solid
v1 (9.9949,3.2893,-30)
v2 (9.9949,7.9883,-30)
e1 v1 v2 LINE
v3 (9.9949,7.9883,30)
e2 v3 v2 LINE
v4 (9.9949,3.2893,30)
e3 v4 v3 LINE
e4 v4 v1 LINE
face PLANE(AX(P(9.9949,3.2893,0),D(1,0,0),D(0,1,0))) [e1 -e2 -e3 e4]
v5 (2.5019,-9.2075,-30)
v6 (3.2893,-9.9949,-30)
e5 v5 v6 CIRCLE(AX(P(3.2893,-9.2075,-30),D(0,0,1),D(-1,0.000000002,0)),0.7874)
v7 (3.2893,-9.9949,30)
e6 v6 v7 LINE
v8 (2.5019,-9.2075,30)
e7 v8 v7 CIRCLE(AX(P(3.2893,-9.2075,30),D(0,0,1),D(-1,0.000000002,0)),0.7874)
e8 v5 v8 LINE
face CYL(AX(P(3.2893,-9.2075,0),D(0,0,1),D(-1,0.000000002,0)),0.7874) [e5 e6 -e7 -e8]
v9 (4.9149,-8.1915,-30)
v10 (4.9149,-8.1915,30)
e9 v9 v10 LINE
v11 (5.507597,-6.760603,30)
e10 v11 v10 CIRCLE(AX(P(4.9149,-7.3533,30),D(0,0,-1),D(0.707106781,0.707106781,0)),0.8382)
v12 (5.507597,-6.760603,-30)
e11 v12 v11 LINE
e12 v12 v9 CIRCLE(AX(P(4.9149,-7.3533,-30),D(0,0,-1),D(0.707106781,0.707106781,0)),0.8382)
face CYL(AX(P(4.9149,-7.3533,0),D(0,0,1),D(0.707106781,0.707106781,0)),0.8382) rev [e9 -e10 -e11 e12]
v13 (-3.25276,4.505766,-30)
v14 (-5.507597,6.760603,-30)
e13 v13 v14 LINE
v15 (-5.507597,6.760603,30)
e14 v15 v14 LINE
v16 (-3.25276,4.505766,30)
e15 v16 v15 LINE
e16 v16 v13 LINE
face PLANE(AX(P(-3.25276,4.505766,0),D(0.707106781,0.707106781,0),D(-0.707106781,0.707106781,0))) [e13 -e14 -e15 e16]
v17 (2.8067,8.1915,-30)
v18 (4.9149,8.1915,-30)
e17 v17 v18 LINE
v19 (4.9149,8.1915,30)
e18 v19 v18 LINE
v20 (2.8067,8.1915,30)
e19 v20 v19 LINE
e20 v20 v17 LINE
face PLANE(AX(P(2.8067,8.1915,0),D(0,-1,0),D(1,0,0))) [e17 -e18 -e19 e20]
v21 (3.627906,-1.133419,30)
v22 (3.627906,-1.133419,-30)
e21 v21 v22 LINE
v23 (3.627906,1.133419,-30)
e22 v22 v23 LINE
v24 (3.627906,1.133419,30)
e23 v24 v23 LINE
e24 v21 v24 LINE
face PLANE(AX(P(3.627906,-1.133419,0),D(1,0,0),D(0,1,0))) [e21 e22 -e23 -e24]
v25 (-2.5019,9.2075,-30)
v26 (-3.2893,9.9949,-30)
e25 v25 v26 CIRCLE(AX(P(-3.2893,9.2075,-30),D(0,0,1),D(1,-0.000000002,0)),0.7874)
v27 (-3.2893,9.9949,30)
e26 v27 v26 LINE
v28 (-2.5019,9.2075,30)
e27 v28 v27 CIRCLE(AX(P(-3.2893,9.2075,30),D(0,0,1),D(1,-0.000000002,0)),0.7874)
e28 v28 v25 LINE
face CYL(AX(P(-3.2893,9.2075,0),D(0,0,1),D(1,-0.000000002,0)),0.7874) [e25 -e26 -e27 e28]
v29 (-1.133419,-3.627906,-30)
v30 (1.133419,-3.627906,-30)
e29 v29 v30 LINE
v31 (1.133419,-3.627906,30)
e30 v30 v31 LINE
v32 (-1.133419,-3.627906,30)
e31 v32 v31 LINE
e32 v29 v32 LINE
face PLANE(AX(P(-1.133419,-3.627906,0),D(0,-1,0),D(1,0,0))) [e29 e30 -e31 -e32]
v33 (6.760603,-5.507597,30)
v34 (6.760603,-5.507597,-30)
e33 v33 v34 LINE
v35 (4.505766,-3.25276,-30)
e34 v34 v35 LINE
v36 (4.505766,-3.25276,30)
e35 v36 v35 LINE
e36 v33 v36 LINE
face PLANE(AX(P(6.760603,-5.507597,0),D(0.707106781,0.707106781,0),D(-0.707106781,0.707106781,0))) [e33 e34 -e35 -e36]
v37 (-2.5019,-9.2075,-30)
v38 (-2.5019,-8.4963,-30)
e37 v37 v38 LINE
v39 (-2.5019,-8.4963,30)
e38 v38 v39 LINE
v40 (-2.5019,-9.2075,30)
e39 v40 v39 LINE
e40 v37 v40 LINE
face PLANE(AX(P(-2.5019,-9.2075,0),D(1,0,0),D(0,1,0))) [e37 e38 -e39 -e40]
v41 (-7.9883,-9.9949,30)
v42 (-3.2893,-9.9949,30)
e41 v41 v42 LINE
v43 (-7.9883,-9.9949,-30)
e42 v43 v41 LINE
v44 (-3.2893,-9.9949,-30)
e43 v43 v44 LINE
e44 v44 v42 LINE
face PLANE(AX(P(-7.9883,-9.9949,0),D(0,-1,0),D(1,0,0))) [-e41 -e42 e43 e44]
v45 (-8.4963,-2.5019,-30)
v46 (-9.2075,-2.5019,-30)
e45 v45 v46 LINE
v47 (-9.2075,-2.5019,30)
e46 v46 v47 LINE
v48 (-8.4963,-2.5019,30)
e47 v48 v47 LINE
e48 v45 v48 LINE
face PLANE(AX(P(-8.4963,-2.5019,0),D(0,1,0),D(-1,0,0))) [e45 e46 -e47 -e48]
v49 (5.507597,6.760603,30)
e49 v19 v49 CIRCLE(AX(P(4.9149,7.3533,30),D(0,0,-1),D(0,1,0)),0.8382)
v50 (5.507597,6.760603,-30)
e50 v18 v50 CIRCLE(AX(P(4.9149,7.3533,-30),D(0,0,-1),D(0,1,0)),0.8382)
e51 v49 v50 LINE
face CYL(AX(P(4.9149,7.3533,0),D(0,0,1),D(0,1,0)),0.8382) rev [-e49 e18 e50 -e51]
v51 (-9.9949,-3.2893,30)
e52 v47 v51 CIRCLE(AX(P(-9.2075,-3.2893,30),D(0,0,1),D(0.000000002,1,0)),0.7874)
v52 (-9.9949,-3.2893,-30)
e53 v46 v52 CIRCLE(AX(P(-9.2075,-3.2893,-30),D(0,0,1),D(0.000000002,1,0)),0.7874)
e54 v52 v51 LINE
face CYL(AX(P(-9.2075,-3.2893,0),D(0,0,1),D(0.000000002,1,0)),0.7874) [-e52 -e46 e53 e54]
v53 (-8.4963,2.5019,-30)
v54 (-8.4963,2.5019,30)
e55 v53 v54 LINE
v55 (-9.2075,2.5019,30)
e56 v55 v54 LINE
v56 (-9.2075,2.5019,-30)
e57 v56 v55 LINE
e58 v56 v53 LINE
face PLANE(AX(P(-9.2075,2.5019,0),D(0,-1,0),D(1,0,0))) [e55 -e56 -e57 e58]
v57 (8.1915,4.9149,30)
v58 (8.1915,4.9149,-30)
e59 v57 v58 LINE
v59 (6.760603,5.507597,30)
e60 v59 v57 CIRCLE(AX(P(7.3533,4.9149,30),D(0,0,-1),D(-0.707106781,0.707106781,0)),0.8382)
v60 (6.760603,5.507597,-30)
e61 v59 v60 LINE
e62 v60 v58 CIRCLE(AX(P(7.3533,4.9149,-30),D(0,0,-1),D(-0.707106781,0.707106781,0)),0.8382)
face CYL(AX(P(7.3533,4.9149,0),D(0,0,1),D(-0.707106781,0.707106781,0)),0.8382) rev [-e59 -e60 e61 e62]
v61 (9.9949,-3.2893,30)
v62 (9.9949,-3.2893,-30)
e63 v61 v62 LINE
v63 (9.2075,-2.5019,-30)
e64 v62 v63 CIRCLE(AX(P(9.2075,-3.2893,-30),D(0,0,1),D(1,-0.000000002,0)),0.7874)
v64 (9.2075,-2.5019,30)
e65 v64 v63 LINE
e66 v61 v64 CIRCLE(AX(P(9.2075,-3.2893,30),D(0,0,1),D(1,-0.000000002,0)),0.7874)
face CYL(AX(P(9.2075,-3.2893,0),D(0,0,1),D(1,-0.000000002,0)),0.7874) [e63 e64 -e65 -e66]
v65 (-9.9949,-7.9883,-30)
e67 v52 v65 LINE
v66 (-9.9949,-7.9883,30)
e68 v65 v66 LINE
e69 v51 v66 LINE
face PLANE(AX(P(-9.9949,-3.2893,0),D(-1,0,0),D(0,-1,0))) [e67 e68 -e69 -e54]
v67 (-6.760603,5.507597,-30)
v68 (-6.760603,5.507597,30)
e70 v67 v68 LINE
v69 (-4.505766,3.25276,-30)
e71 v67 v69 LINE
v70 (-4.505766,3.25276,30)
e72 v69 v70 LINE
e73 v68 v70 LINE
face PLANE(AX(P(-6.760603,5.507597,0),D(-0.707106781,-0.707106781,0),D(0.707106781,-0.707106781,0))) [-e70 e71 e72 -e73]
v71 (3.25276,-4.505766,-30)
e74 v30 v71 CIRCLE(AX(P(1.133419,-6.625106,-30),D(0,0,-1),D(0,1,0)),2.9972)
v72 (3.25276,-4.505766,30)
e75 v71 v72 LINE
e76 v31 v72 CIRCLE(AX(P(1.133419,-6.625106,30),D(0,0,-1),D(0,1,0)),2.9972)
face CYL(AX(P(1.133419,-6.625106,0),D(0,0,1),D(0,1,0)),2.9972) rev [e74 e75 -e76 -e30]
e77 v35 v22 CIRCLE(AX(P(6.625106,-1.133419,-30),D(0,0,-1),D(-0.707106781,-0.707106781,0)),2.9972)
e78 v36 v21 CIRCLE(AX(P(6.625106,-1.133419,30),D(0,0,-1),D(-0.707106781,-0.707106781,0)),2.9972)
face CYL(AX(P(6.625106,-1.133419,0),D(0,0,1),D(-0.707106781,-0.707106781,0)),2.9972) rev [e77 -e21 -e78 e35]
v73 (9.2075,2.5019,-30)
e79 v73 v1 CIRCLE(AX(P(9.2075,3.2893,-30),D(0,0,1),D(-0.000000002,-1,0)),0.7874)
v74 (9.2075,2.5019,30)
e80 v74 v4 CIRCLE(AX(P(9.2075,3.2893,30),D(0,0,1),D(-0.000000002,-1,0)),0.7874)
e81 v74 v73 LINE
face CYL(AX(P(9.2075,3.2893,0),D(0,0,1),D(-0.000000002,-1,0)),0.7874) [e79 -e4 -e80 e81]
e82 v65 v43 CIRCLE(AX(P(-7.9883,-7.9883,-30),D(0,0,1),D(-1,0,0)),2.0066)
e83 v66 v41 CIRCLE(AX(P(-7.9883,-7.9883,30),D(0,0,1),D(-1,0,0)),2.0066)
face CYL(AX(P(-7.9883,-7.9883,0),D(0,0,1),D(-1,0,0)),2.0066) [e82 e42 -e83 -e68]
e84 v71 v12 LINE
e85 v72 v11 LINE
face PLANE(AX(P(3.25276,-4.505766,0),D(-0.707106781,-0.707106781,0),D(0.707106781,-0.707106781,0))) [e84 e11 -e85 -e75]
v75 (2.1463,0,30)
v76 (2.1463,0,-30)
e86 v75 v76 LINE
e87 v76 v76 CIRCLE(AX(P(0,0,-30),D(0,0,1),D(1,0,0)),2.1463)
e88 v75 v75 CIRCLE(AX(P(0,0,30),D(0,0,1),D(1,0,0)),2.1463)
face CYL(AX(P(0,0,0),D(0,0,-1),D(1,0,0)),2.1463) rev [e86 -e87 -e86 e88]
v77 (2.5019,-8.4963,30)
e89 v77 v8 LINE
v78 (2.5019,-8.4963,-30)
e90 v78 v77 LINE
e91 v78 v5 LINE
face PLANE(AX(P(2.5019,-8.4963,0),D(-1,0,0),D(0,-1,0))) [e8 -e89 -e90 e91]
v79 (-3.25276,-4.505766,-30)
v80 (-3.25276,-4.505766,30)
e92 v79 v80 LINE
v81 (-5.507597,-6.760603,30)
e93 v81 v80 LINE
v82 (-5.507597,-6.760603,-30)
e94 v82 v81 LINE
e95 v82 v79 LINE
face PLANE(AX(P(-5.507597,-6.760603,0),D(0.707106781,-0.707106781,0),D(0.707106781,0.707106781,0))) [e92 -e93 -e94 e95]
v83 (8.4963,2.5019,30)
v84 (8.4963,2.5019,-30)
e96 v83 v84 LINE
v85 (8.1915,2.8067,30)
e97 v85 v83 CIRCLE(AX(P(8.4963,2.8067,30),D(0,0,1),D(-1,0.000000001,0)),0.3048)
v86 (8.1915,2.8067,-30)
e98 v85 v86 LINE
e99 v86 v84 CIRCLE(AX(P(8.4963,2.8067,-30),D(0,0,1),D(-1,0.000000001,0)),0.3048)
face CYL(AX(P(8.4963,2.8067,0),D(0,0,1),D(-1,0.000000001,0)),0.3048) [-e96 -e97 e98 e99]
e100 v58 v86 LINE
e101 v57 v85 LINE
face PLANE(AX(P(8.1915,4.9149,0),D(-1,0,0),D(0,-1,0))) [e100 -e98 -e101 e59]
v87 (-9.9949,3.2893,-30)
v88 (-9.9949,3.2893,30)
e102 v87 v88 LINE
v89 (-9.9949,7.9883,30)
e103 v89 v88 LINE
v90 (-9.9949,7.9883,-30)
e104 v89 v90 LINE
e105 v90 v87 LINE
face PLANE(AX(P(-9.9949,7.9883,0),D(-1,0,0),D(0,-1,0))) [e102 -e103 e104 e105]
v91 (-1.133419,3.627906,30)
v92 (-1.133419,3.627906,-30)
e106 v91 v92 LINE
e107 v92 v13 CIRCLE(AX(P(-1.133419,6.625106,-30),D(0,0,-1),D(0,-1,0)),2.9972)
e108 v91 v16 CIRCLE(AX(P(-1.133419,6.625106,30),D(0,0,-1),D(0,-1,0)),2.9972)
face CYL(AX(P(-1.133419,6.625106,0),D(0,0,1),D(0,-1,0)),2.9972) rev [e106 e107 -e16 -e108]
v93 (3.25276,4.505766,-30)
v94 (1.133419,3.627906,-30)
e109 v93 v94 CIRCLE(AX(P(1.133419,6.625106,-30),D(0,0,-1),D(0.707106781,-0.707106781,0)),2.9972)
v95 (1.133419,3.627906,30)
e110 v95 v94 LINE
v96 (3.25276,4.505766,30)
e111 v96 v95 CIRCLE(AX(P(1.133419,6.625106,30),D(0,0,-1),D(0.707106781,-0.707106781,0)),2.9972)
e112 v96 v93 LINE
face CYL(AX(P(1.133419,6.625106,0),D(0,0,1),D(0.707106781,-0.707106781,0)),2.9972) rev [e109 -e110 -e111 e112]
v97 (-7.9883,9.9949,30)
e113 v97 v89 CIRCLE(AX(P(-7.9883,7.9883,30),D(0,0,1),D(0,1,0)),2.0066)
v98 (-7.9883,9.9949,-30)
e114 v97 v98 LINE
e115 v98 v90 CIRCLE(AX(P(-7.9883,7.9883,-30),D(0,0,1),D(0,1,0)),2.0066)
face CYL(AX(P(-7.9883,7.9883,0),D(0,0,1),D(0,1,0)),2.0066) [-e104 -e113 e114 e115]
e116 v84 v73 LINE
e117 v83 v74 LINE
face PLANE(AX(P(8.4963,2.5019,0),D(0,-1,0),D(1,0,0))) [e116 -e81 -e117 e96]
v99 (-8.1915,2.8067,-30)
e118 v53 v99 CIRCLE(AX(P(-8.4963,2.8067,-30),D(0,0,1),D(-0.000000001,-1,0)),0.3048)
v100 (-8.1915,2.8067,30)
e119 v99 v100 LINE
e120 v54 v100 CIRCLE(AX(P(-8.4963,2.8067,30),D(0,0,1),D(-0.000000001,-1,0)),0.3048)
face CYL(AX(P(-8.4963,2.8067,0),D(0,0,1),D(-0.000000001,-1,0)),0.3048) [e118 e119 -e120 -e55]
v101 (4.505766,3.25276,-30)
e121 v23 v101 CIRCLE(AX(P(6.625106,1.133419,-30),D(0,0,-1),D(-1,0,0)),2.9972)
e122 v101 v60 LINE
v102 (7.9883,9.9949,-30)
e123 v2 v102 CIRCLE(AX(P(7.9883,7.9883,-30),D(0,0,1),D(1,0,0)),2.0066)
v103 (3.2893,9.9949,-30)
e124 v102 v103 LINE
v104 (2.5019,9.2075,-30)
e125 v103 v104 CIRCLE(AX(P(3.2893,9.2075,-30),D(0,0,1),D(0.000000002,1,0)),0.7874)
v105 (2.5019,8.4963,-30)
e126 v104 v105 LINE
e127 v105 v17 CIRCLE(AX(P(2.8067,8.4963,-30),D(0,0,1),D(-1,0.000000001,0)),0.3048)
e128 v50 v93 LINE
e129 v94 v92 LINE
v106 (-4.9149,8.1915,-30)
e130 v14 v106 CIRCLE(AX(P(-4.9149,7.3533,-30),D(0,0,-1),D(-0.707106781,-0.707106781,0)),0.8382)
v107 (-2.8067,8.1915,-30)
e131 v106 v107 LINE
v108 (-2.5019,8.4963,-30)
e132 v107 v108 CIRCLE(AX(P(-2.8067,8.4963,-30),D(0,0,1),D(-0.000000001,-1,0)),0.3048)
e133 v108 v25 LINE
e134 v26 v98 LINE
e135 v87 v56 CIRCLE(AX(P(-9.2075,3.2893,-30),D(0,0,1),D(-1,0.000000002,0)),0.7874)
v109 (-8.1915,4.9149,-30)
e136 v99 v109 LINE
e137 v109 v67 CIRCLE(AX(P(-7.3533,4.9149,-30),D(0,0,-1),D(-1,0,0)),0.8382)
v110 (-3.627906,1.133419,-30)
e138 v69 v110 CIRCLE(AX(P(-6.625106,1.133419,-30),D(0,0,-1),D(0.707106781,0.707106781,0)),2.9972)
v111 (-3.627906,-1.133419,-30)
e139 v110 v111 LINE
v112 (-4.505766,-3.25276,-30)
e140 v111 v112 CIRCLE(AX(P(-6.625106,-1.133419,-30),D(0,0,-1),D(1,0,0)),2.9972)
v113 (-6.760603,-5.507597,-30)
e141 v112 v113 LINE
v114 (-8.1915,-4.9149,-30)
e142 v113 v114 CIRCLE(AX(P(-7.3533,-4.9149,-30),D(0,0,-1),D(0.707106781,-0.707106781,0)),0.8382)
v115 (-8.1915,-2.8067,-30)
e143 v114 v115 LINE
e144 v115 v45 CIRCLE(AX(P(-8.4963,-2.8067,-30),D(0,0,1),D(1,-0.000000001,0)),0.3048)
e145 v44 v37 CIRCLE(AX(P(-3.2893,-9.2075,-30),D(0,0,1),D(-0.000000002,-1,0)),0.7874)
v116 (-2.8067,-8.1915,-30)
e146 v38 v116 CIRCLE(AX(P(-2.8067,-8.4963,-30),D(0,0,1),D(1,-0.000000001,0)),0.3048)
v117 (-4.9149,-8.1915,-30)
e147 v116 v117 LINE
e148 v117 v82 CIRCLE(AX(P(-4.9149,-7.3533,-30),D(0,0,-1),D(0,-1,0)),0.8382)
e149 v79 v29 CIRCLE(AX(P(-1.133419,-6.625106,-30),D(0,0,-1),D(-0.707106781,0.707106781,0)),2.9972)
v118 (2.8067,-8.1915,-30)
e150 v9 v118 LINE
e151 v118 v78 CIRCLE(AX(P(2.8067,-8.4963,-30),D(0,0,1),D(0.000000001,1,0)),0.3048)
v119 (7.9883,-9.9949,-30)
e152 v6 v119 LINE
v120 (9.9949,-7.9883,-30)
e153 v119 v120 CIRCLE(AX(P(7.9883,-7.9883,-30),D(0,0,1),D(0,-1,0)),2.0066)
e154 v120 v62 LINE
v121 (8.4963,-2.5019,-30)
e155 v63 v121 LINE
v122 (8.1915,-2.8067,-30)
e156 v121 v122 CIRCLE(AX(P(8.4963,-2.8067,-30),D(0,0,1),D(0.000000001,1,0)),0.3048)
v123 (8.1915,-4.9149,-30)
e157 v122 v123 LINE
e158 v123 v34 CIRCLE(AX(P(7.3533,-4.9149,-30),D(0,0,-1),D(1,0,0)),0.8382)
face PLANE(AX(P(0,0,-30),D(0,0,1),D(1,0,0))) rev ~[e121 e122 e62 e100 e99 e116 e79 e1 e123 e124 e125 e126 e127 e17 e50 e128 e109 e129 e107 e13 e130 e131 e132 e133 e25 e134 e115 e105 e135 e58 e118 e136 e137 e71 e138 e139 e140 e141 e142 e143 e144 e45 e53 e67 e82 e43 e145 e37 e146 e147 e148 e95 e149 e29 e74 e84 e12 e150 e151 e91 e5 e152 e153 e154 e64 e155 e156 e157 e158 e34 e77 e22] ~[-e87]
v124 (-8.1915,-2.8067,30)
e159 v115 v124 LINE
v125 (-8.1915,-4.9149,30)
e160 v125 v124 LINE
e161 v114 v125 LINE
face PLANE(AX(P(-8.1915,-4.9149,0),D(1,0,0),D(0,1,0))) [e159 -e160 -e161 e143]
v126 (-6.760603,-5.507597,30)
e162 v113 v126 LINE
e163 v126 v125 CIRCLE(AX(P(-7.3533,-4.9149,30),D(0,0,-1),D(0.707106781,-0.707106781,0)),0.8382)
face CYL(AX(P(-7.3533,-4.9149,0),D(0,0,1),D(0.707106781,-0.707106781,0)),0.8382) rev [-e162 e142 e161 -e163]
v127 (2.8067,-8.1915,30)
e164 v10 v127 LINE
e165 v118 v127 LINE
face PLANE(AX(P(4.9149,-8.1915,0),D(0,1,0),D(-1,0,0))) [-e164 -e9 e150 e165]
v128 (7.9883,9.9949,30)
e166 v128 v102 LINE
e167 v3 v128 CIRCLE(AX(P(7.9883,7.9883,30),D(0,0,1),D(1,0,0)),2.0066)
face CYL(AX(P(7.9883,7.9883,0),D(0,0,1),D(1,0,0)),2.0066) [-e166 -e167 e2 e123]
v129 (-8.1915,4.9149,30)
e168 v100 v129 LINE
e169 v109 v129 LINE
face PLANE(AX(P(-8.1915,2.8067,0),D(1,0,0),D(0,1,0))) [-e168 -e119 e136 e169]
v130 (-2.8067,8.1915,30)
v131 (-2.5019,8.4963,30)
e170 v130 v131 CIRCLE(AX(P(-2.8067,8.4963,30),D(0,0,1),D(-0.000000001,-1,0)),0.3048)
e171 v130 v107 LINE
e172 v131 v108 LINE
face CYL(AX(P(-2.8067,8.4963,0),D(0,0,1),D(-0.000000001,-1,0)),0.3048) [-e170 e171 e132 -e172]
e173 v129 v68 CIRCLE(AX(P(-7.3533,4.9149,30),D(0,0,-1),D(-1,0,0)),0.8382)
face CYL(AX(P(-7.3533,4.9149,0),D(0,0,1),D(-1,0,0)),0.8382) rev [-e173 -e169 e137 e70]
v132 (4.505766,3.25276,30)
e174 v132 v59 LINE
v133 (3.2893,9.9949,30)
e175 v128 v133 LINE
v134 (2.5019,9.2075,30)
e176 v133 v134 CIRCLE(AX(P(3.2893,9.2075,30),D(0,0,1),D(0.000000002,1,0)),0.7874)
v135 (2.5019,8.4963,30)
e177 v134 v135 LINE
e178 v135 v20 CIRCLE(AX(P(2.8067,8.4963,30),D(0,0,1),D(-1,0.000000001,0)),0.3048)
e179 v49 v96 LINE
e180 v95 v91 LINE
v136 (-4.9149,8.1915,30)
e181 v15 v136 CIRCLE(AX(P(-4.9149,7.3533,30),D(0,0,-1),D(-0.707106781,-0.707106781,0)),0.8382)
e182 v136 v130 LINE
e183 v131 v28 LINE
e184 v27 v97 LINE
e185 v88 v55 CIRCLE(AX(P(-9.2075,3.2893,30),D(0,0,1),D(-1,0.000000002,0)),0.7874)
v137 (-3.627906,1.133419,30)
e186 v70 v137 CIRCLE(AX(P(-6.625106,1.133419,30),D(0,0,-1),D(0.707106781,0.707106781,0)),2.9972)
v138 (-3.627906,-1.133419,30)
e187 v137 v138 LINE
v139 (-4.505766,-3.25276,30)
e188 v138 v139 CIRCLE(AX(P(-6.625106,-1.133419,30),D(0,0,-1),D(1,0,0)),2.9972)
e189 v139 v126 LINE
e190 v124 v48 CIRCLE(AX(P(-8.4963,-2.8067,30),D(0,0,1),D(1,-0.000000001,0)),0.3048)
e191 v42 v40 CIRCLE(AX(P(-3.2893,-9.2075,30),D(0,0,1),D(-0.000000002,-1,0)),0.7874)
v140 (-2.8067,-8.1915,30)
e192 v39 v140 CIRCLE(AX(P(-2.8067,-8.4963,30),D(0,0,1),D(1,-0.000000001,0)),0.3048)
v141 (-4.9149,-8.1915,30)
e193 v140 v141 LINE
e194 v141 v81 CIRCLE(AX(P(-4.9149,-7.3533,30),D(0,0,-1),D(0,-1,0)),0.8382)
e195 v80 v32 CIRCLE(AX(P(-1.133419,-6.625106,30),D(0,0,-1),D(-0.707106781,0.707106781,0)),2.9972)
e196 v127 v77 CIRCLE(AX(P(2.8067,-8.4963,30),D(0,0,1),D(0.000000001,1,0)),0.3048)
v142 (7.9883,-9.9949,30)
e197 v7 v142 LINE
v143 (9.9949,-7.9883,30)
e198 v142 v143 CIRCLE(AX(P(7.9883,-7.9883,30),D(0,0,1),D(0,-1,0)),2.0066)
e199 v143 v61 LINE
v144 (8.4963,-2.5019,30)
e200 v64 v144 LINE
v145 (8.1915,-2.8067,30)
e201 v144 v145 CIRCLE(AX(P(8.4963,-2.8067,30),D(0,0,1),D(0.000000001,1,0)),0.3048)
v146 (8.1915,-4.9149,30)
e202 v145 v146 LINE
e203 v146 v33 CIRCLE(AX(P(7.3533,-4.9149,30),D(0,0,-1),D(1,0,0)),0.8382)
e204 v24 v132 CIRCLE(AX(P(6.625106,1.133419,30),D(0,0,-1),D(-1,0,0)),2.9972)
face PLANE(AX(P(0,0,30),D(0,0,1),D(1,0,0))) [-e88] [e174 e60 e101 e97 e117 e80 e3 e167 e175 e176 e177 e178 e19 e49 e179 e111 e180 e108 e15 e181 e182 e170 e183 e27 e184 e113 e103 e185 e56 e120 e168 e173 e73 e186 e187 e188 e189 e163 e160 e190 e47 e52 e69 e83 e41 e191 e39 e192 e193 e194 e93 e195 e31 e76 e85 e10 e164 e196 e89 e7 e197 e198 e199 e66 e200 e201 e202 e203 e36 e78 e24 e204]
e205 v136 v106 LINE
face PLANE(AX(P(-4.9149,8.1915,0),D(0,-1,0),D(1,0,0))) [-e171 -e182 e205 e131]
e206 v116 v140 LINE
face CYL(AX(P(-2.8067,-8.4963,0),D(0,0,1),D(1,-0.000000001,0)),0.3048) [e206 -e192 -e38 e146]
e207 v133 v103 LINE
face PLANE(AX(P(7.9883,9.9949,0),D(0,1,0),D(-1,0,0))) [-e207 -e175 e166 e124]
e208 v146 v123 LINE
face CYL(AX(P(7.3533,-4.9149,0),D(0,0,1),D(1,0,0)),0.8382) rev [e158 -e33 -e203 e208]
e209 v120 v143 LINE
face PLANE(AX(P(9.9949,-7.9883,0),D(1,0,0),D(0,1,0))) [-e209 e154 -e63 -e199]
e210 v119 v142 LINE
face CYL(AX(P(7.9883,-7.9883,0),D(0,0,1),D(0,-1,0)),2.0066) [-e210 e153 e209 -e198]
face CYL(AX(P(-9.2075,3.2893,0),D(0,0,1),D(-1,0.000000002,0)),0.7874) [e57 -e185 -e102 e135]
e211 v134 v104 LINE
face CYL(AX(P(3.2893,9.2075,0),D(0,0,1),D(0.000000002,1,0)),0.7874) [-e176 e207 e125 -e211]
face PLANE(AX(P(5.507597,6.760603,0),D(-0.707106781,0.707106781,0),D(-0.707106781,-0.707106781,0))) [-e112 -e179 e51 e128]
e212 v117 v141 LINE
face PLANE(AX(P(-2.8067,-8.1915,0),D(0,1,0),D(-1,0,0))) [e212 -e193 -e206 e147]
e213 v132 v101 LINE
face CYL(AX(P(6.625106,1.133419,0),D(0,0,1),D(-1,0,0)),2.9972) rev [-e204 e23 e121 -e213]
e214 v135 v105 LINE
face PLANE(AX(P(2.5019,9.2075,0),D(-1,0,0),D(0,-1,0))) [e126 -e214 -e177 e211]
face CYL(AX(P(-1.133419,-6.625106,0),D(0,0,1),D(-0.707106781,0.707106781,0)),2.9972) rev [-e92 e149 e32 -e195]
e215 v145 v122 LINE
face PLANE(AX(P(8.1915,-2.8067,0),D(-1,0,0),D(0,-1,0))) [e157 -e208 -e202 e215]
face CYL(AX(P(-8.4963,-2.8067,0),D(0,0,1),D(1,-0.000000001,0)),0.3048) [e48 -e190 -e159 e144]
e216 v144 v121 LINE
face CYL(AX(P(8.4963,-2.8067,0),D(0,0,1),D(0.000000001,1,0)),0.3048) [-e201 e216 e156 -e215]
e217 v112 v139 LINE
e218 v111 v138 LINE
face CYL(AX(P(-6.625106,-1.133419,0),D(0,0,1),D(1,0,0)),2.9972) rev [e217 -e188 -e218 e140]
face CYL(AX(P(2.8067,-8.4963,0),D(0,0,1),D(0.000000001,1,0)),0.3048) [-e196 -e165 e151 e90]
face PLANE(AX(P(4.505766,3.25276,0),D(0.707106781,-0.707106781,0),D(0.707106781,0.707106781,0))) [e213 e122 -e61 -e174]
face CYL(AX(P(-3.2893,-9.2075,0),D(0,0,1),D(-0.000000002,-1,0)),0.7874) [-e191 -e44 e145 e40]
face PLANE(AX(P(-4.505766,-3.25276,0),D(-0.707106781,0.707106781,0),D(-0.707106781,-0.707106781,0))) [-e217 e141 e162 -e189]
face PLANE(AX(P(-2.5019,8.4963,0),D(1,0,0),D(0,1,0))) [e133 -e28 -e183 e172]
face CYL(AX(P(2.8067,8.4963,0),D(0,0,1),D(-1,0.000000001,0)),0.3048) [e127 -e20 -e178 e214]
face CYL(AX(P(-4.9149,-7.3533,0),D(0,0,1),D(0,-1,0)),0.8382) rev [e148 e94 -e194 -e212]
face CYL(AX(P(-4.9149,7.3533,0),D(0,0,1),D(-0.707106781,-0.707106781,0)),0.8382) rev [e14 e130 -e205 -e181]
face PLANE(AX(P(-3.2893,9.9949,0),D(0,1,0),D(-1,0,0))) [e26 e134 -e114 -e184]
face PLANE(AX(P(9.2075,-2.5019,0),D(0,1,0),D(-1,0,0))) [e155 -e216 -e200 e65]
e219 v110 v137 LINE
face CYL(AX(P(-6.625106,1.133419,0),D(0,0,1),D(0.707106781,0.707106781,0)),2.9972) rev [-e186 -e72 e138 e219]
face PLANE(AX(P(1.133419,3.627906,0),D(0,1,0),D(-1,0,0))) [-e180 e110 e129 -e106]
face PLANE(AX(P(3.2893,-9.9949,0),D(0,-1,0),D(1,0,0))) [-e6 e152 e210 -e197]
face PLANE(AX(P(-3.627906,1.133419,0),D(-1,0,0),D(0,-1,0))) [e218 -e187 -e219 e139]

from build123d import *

# Parameters (mm, degrees)
SKETCH1_R           = 2.1463
BOSS_EXTRUDE1_DEPTH = 30


with BuildPart() as part:
    # Sketch1 → Boss-Extrude1 (new body, symmetric)
    with BuildSketch(Plane.XY):
        with BuildLine():
            Line((-9.9949, 7.9883), (-9.9949, 3.2893))
            ThreePointArc((-9.9949, 3.2893), (-9.76427588, 2.73252412), (-9.2075, 2.5019))
            Line((-9.2075, 2.5019), (-8.4963, 2.5019))
            ThreePointArc((-8.4963, 2.5019), (-8.280773853, 2.591173853), (-8.1915, 2.8067))
            Line((-8.1915, 2.8067), (-8.1915, 4.9149))
            ThreePointArc((-8.1915, 4.9149), (-7.674065253, 5.689295824), (-6.760603096, 5.507596904))
            Line((-6.760603096, 5.507596904), (-4.505765747, 3.252759555))
            ThreePointArc((-4.505765747, 3.252759555), (-3.856054457, 2.280397894), (-3.627906192, 1.133419111))
            Line((-3.627906192, 1.133419111), (-3.627906192, -1.133419111))
            ThreePointArc((-3.627906192, -1.133419111), (-3.856054457, -2.280397894), (-4.505765747, -3.252759555))
            Line((-4.505765747, -3.252759555), (-6.760603096, -5.507596904))
            ThreePointArc((-6.760603096, -5.507596904), (-7.674065253, -5.689295824), (-8.1915, -4.9149))
            Line((-8.1915, -4.9149), (-8.1915, -2.8067))
            ThreePointArc((-8.1915, -2.8067), (-8.280773853, -2.591173853), (-8.4963, -2.5019))
            Line((-8.4963, -2.5019), (-9.2075, -2.5019))
            ThreePointArc((-9.2075, -2.5019), (-9.76427588, -2.73252412), (-9.9949, -3.2893))
            Line((-9.9949, -3.2893), (-9.9949, -7.9883))
            ThreePointArc((-9.9949, -7.9883), (-9.407180467, -9.407180467), (-7.9883, -9.9949))
            Line((-7.9883, -9.9949), (-3.2893, -9.9949))
            ThreePointArc((-3.2893, -9.9949), (-2.73252412, -9.76427588), (-2.5019, -9.2075))
            Line((-2.5019, -9.2075), (-2.5019, -8.4963))
            ThreePointArc((-2.5019, -8.4963), (-2.591173853, -8.280773853), (-2.8067, -8.1915))
            Line((-2.8067, -8.1915), (-4.9149, -8.1915))
            ThreePointArc((-4.9149, -8.1915), (-5.689295824, -7.674065253), (-5.507596904, -6.760603096))
            Line((-5.507596904, -6.760603096), (-3.252759555, -4.505765747))
            ThreePointArc((-3.252759555, -4.505765747), (-2.280397894, -3.856054457), (-1.133419111, -3.627906192))
            Line((-1.133419111, -3.627906192), (1.133419111, -3.627906192))
            ThreePointArc((1.133419111, -3.627906192), (2.280397894, -3.856054457), (3.252759555, -4.505765747))
            Line((3.252759555, -4.505765747), (5.507596904, -6.760603096))
            ThreePointArc((5.507596904, -6.760603096), (5.689295824, -7.674065253), (4.9149, -8.1915))
            Line((4.9149, -8.1915), (2.8067, -8.1915))
            ThreePointArc((2.8067, -8.1915), (2.591173853, -8.280773853), (2.5019, -8.4963))
            Line((2.5019, -8.4963), (2.5019, -9.2075))
            ThreePointArc((2.5019, -9.2075), (2.73252412, -9.76427588), (3.2893, -9.9949))
            Line((3.2893, -9.9949), (7.9883, -9.9949))
            ThreePointArc((7.9883, -9.9949), (9.407180467, -9.407180467), (9.9949, -7.9883))
            Line((9.9949, -7.9883), (9.9949, -3.2893))
            ThreePointArc((9.9949, -3.2893), (9.76427588, -2.73252412), (9.2075, -2.5019))
            Line((9.2075, -2.5019), (8.4963, -2.5019))
            ThreePointArc((8.4963, -2.5019), (8.280773853, -2.591173853), (8.1915, -2.8067))
            Line((8.1915, -2.8067), (8.1915, -4.9149))
            ThreePointArc((8.1915, -4.9149), (7.674065253, -5.689295824), (6.760603096, -5.507596904))
            Line((6.760603096, -5.507596904), (4.505765747, -3.252759555))
            ThreePointArc((4.505765747, -3.252759555), (3.856054457, -2.280397894), (3.627906192, -1.133419111))
            Line((3.627906192, -1.133419111), (3.627906192, 1.133419111))
            ThreePointArc((3.627906192, 1.133419111), (3.856054457, 2.280397894), (4.505765747, 3.252759555))
            Line((4.505765747, 3.252759555), (6.760603096, 5.507596904))
            ThreePointArc((6.760603096, 5.507596904), (7.674065253, 5.689295824), (8.1915, 4.9149))
            Line((8.1915, 4.9149), (8.1915, 2.8067))
            ThreePointArc((8.1915, 2.8067), (8.280773853, 2.591173853), (8.4963, 2.5019))
            Line((8.4963, 2.5019), (9.2075, 2.5019))
            ThreePointArc((9.2075, 2.5019), (9.76427588, 2.73252412), (9.9949, 3.2893))
            Line((9.9949, 3.2893), (9.9949, 7.9883))
            ThreePointArc((9.9949, 7.9883), (9.407180467, 9.407180467), (7.9883, 9.9949))
            Line((7.9883, 9.9949), (3.2893, 9.9949))
            ThreePointArc((3.2893, 9.9949), (2.73252412, 9.76427588), (2.5019, 9.2075))
            Line((2.5019, 9.2075), (2.5019, 8.4963))
            ThreePointArc((2.5019, 8.4963), (2.591173853, 8.280773853), (2.8067, 8.1915))
            Line((2.8067, 8.1915), (4.9149, 8.1915))
            ThreePointArc((4.9149, 8.1915), (5.689295824, 7.674065253), (5.507596904, 6.760603096))
            Line((5.507596904, 6.760603096), (3.252759555, 4.505765747))
            ThreePointArc((3.252759555, 4.505765747), (2.280397894, 3.856054457), (1.133419111, 3.627906192))
            Line((1.133419111, 3.627906192), (-1.133419111, 3.627906192))
            ThreePointArc((-1.133419111, 3.627906192), (-2.280397894, 3.856054457), (-3.252759555, 4.505765747))
            Line((-3.252759555, 4.505765747), (-5.507596904, 6.760603096))
            ThreePointArc((-5.507596904, 6.760603096), (-5.689295824, 7.674065253), (-4.9149, 8.1915))
            Line((-4.9149, 8.1915), (-2.8067, 8.1915))
            ThreePointArc((-2.8067, 8.1915), (-2.591173853, 8.280773853), (-2.5019, 8.4963))
            Line((-2.5019, 8.4963), (-2.5019, 9.2075))
            ThreePointArc((-2.5019, 9.2075), (-2.73252412, 9.76427588), (-3.2893, 9.9949))
            Line((-3.2893, 9.9949), (-7.9883, 9.9949))
            ThreePointArc((-7.9883, 9.9949), (-9.407180467, 9.407180467), (-9.9949, 7.9883))
        make_face()
        Circle(SKETCH1_R, mode=Mode.SUBTRACT)
    extrude(amount=BOSS_EXTRUDE1_DEPTH, both=True)


solid = part.part
